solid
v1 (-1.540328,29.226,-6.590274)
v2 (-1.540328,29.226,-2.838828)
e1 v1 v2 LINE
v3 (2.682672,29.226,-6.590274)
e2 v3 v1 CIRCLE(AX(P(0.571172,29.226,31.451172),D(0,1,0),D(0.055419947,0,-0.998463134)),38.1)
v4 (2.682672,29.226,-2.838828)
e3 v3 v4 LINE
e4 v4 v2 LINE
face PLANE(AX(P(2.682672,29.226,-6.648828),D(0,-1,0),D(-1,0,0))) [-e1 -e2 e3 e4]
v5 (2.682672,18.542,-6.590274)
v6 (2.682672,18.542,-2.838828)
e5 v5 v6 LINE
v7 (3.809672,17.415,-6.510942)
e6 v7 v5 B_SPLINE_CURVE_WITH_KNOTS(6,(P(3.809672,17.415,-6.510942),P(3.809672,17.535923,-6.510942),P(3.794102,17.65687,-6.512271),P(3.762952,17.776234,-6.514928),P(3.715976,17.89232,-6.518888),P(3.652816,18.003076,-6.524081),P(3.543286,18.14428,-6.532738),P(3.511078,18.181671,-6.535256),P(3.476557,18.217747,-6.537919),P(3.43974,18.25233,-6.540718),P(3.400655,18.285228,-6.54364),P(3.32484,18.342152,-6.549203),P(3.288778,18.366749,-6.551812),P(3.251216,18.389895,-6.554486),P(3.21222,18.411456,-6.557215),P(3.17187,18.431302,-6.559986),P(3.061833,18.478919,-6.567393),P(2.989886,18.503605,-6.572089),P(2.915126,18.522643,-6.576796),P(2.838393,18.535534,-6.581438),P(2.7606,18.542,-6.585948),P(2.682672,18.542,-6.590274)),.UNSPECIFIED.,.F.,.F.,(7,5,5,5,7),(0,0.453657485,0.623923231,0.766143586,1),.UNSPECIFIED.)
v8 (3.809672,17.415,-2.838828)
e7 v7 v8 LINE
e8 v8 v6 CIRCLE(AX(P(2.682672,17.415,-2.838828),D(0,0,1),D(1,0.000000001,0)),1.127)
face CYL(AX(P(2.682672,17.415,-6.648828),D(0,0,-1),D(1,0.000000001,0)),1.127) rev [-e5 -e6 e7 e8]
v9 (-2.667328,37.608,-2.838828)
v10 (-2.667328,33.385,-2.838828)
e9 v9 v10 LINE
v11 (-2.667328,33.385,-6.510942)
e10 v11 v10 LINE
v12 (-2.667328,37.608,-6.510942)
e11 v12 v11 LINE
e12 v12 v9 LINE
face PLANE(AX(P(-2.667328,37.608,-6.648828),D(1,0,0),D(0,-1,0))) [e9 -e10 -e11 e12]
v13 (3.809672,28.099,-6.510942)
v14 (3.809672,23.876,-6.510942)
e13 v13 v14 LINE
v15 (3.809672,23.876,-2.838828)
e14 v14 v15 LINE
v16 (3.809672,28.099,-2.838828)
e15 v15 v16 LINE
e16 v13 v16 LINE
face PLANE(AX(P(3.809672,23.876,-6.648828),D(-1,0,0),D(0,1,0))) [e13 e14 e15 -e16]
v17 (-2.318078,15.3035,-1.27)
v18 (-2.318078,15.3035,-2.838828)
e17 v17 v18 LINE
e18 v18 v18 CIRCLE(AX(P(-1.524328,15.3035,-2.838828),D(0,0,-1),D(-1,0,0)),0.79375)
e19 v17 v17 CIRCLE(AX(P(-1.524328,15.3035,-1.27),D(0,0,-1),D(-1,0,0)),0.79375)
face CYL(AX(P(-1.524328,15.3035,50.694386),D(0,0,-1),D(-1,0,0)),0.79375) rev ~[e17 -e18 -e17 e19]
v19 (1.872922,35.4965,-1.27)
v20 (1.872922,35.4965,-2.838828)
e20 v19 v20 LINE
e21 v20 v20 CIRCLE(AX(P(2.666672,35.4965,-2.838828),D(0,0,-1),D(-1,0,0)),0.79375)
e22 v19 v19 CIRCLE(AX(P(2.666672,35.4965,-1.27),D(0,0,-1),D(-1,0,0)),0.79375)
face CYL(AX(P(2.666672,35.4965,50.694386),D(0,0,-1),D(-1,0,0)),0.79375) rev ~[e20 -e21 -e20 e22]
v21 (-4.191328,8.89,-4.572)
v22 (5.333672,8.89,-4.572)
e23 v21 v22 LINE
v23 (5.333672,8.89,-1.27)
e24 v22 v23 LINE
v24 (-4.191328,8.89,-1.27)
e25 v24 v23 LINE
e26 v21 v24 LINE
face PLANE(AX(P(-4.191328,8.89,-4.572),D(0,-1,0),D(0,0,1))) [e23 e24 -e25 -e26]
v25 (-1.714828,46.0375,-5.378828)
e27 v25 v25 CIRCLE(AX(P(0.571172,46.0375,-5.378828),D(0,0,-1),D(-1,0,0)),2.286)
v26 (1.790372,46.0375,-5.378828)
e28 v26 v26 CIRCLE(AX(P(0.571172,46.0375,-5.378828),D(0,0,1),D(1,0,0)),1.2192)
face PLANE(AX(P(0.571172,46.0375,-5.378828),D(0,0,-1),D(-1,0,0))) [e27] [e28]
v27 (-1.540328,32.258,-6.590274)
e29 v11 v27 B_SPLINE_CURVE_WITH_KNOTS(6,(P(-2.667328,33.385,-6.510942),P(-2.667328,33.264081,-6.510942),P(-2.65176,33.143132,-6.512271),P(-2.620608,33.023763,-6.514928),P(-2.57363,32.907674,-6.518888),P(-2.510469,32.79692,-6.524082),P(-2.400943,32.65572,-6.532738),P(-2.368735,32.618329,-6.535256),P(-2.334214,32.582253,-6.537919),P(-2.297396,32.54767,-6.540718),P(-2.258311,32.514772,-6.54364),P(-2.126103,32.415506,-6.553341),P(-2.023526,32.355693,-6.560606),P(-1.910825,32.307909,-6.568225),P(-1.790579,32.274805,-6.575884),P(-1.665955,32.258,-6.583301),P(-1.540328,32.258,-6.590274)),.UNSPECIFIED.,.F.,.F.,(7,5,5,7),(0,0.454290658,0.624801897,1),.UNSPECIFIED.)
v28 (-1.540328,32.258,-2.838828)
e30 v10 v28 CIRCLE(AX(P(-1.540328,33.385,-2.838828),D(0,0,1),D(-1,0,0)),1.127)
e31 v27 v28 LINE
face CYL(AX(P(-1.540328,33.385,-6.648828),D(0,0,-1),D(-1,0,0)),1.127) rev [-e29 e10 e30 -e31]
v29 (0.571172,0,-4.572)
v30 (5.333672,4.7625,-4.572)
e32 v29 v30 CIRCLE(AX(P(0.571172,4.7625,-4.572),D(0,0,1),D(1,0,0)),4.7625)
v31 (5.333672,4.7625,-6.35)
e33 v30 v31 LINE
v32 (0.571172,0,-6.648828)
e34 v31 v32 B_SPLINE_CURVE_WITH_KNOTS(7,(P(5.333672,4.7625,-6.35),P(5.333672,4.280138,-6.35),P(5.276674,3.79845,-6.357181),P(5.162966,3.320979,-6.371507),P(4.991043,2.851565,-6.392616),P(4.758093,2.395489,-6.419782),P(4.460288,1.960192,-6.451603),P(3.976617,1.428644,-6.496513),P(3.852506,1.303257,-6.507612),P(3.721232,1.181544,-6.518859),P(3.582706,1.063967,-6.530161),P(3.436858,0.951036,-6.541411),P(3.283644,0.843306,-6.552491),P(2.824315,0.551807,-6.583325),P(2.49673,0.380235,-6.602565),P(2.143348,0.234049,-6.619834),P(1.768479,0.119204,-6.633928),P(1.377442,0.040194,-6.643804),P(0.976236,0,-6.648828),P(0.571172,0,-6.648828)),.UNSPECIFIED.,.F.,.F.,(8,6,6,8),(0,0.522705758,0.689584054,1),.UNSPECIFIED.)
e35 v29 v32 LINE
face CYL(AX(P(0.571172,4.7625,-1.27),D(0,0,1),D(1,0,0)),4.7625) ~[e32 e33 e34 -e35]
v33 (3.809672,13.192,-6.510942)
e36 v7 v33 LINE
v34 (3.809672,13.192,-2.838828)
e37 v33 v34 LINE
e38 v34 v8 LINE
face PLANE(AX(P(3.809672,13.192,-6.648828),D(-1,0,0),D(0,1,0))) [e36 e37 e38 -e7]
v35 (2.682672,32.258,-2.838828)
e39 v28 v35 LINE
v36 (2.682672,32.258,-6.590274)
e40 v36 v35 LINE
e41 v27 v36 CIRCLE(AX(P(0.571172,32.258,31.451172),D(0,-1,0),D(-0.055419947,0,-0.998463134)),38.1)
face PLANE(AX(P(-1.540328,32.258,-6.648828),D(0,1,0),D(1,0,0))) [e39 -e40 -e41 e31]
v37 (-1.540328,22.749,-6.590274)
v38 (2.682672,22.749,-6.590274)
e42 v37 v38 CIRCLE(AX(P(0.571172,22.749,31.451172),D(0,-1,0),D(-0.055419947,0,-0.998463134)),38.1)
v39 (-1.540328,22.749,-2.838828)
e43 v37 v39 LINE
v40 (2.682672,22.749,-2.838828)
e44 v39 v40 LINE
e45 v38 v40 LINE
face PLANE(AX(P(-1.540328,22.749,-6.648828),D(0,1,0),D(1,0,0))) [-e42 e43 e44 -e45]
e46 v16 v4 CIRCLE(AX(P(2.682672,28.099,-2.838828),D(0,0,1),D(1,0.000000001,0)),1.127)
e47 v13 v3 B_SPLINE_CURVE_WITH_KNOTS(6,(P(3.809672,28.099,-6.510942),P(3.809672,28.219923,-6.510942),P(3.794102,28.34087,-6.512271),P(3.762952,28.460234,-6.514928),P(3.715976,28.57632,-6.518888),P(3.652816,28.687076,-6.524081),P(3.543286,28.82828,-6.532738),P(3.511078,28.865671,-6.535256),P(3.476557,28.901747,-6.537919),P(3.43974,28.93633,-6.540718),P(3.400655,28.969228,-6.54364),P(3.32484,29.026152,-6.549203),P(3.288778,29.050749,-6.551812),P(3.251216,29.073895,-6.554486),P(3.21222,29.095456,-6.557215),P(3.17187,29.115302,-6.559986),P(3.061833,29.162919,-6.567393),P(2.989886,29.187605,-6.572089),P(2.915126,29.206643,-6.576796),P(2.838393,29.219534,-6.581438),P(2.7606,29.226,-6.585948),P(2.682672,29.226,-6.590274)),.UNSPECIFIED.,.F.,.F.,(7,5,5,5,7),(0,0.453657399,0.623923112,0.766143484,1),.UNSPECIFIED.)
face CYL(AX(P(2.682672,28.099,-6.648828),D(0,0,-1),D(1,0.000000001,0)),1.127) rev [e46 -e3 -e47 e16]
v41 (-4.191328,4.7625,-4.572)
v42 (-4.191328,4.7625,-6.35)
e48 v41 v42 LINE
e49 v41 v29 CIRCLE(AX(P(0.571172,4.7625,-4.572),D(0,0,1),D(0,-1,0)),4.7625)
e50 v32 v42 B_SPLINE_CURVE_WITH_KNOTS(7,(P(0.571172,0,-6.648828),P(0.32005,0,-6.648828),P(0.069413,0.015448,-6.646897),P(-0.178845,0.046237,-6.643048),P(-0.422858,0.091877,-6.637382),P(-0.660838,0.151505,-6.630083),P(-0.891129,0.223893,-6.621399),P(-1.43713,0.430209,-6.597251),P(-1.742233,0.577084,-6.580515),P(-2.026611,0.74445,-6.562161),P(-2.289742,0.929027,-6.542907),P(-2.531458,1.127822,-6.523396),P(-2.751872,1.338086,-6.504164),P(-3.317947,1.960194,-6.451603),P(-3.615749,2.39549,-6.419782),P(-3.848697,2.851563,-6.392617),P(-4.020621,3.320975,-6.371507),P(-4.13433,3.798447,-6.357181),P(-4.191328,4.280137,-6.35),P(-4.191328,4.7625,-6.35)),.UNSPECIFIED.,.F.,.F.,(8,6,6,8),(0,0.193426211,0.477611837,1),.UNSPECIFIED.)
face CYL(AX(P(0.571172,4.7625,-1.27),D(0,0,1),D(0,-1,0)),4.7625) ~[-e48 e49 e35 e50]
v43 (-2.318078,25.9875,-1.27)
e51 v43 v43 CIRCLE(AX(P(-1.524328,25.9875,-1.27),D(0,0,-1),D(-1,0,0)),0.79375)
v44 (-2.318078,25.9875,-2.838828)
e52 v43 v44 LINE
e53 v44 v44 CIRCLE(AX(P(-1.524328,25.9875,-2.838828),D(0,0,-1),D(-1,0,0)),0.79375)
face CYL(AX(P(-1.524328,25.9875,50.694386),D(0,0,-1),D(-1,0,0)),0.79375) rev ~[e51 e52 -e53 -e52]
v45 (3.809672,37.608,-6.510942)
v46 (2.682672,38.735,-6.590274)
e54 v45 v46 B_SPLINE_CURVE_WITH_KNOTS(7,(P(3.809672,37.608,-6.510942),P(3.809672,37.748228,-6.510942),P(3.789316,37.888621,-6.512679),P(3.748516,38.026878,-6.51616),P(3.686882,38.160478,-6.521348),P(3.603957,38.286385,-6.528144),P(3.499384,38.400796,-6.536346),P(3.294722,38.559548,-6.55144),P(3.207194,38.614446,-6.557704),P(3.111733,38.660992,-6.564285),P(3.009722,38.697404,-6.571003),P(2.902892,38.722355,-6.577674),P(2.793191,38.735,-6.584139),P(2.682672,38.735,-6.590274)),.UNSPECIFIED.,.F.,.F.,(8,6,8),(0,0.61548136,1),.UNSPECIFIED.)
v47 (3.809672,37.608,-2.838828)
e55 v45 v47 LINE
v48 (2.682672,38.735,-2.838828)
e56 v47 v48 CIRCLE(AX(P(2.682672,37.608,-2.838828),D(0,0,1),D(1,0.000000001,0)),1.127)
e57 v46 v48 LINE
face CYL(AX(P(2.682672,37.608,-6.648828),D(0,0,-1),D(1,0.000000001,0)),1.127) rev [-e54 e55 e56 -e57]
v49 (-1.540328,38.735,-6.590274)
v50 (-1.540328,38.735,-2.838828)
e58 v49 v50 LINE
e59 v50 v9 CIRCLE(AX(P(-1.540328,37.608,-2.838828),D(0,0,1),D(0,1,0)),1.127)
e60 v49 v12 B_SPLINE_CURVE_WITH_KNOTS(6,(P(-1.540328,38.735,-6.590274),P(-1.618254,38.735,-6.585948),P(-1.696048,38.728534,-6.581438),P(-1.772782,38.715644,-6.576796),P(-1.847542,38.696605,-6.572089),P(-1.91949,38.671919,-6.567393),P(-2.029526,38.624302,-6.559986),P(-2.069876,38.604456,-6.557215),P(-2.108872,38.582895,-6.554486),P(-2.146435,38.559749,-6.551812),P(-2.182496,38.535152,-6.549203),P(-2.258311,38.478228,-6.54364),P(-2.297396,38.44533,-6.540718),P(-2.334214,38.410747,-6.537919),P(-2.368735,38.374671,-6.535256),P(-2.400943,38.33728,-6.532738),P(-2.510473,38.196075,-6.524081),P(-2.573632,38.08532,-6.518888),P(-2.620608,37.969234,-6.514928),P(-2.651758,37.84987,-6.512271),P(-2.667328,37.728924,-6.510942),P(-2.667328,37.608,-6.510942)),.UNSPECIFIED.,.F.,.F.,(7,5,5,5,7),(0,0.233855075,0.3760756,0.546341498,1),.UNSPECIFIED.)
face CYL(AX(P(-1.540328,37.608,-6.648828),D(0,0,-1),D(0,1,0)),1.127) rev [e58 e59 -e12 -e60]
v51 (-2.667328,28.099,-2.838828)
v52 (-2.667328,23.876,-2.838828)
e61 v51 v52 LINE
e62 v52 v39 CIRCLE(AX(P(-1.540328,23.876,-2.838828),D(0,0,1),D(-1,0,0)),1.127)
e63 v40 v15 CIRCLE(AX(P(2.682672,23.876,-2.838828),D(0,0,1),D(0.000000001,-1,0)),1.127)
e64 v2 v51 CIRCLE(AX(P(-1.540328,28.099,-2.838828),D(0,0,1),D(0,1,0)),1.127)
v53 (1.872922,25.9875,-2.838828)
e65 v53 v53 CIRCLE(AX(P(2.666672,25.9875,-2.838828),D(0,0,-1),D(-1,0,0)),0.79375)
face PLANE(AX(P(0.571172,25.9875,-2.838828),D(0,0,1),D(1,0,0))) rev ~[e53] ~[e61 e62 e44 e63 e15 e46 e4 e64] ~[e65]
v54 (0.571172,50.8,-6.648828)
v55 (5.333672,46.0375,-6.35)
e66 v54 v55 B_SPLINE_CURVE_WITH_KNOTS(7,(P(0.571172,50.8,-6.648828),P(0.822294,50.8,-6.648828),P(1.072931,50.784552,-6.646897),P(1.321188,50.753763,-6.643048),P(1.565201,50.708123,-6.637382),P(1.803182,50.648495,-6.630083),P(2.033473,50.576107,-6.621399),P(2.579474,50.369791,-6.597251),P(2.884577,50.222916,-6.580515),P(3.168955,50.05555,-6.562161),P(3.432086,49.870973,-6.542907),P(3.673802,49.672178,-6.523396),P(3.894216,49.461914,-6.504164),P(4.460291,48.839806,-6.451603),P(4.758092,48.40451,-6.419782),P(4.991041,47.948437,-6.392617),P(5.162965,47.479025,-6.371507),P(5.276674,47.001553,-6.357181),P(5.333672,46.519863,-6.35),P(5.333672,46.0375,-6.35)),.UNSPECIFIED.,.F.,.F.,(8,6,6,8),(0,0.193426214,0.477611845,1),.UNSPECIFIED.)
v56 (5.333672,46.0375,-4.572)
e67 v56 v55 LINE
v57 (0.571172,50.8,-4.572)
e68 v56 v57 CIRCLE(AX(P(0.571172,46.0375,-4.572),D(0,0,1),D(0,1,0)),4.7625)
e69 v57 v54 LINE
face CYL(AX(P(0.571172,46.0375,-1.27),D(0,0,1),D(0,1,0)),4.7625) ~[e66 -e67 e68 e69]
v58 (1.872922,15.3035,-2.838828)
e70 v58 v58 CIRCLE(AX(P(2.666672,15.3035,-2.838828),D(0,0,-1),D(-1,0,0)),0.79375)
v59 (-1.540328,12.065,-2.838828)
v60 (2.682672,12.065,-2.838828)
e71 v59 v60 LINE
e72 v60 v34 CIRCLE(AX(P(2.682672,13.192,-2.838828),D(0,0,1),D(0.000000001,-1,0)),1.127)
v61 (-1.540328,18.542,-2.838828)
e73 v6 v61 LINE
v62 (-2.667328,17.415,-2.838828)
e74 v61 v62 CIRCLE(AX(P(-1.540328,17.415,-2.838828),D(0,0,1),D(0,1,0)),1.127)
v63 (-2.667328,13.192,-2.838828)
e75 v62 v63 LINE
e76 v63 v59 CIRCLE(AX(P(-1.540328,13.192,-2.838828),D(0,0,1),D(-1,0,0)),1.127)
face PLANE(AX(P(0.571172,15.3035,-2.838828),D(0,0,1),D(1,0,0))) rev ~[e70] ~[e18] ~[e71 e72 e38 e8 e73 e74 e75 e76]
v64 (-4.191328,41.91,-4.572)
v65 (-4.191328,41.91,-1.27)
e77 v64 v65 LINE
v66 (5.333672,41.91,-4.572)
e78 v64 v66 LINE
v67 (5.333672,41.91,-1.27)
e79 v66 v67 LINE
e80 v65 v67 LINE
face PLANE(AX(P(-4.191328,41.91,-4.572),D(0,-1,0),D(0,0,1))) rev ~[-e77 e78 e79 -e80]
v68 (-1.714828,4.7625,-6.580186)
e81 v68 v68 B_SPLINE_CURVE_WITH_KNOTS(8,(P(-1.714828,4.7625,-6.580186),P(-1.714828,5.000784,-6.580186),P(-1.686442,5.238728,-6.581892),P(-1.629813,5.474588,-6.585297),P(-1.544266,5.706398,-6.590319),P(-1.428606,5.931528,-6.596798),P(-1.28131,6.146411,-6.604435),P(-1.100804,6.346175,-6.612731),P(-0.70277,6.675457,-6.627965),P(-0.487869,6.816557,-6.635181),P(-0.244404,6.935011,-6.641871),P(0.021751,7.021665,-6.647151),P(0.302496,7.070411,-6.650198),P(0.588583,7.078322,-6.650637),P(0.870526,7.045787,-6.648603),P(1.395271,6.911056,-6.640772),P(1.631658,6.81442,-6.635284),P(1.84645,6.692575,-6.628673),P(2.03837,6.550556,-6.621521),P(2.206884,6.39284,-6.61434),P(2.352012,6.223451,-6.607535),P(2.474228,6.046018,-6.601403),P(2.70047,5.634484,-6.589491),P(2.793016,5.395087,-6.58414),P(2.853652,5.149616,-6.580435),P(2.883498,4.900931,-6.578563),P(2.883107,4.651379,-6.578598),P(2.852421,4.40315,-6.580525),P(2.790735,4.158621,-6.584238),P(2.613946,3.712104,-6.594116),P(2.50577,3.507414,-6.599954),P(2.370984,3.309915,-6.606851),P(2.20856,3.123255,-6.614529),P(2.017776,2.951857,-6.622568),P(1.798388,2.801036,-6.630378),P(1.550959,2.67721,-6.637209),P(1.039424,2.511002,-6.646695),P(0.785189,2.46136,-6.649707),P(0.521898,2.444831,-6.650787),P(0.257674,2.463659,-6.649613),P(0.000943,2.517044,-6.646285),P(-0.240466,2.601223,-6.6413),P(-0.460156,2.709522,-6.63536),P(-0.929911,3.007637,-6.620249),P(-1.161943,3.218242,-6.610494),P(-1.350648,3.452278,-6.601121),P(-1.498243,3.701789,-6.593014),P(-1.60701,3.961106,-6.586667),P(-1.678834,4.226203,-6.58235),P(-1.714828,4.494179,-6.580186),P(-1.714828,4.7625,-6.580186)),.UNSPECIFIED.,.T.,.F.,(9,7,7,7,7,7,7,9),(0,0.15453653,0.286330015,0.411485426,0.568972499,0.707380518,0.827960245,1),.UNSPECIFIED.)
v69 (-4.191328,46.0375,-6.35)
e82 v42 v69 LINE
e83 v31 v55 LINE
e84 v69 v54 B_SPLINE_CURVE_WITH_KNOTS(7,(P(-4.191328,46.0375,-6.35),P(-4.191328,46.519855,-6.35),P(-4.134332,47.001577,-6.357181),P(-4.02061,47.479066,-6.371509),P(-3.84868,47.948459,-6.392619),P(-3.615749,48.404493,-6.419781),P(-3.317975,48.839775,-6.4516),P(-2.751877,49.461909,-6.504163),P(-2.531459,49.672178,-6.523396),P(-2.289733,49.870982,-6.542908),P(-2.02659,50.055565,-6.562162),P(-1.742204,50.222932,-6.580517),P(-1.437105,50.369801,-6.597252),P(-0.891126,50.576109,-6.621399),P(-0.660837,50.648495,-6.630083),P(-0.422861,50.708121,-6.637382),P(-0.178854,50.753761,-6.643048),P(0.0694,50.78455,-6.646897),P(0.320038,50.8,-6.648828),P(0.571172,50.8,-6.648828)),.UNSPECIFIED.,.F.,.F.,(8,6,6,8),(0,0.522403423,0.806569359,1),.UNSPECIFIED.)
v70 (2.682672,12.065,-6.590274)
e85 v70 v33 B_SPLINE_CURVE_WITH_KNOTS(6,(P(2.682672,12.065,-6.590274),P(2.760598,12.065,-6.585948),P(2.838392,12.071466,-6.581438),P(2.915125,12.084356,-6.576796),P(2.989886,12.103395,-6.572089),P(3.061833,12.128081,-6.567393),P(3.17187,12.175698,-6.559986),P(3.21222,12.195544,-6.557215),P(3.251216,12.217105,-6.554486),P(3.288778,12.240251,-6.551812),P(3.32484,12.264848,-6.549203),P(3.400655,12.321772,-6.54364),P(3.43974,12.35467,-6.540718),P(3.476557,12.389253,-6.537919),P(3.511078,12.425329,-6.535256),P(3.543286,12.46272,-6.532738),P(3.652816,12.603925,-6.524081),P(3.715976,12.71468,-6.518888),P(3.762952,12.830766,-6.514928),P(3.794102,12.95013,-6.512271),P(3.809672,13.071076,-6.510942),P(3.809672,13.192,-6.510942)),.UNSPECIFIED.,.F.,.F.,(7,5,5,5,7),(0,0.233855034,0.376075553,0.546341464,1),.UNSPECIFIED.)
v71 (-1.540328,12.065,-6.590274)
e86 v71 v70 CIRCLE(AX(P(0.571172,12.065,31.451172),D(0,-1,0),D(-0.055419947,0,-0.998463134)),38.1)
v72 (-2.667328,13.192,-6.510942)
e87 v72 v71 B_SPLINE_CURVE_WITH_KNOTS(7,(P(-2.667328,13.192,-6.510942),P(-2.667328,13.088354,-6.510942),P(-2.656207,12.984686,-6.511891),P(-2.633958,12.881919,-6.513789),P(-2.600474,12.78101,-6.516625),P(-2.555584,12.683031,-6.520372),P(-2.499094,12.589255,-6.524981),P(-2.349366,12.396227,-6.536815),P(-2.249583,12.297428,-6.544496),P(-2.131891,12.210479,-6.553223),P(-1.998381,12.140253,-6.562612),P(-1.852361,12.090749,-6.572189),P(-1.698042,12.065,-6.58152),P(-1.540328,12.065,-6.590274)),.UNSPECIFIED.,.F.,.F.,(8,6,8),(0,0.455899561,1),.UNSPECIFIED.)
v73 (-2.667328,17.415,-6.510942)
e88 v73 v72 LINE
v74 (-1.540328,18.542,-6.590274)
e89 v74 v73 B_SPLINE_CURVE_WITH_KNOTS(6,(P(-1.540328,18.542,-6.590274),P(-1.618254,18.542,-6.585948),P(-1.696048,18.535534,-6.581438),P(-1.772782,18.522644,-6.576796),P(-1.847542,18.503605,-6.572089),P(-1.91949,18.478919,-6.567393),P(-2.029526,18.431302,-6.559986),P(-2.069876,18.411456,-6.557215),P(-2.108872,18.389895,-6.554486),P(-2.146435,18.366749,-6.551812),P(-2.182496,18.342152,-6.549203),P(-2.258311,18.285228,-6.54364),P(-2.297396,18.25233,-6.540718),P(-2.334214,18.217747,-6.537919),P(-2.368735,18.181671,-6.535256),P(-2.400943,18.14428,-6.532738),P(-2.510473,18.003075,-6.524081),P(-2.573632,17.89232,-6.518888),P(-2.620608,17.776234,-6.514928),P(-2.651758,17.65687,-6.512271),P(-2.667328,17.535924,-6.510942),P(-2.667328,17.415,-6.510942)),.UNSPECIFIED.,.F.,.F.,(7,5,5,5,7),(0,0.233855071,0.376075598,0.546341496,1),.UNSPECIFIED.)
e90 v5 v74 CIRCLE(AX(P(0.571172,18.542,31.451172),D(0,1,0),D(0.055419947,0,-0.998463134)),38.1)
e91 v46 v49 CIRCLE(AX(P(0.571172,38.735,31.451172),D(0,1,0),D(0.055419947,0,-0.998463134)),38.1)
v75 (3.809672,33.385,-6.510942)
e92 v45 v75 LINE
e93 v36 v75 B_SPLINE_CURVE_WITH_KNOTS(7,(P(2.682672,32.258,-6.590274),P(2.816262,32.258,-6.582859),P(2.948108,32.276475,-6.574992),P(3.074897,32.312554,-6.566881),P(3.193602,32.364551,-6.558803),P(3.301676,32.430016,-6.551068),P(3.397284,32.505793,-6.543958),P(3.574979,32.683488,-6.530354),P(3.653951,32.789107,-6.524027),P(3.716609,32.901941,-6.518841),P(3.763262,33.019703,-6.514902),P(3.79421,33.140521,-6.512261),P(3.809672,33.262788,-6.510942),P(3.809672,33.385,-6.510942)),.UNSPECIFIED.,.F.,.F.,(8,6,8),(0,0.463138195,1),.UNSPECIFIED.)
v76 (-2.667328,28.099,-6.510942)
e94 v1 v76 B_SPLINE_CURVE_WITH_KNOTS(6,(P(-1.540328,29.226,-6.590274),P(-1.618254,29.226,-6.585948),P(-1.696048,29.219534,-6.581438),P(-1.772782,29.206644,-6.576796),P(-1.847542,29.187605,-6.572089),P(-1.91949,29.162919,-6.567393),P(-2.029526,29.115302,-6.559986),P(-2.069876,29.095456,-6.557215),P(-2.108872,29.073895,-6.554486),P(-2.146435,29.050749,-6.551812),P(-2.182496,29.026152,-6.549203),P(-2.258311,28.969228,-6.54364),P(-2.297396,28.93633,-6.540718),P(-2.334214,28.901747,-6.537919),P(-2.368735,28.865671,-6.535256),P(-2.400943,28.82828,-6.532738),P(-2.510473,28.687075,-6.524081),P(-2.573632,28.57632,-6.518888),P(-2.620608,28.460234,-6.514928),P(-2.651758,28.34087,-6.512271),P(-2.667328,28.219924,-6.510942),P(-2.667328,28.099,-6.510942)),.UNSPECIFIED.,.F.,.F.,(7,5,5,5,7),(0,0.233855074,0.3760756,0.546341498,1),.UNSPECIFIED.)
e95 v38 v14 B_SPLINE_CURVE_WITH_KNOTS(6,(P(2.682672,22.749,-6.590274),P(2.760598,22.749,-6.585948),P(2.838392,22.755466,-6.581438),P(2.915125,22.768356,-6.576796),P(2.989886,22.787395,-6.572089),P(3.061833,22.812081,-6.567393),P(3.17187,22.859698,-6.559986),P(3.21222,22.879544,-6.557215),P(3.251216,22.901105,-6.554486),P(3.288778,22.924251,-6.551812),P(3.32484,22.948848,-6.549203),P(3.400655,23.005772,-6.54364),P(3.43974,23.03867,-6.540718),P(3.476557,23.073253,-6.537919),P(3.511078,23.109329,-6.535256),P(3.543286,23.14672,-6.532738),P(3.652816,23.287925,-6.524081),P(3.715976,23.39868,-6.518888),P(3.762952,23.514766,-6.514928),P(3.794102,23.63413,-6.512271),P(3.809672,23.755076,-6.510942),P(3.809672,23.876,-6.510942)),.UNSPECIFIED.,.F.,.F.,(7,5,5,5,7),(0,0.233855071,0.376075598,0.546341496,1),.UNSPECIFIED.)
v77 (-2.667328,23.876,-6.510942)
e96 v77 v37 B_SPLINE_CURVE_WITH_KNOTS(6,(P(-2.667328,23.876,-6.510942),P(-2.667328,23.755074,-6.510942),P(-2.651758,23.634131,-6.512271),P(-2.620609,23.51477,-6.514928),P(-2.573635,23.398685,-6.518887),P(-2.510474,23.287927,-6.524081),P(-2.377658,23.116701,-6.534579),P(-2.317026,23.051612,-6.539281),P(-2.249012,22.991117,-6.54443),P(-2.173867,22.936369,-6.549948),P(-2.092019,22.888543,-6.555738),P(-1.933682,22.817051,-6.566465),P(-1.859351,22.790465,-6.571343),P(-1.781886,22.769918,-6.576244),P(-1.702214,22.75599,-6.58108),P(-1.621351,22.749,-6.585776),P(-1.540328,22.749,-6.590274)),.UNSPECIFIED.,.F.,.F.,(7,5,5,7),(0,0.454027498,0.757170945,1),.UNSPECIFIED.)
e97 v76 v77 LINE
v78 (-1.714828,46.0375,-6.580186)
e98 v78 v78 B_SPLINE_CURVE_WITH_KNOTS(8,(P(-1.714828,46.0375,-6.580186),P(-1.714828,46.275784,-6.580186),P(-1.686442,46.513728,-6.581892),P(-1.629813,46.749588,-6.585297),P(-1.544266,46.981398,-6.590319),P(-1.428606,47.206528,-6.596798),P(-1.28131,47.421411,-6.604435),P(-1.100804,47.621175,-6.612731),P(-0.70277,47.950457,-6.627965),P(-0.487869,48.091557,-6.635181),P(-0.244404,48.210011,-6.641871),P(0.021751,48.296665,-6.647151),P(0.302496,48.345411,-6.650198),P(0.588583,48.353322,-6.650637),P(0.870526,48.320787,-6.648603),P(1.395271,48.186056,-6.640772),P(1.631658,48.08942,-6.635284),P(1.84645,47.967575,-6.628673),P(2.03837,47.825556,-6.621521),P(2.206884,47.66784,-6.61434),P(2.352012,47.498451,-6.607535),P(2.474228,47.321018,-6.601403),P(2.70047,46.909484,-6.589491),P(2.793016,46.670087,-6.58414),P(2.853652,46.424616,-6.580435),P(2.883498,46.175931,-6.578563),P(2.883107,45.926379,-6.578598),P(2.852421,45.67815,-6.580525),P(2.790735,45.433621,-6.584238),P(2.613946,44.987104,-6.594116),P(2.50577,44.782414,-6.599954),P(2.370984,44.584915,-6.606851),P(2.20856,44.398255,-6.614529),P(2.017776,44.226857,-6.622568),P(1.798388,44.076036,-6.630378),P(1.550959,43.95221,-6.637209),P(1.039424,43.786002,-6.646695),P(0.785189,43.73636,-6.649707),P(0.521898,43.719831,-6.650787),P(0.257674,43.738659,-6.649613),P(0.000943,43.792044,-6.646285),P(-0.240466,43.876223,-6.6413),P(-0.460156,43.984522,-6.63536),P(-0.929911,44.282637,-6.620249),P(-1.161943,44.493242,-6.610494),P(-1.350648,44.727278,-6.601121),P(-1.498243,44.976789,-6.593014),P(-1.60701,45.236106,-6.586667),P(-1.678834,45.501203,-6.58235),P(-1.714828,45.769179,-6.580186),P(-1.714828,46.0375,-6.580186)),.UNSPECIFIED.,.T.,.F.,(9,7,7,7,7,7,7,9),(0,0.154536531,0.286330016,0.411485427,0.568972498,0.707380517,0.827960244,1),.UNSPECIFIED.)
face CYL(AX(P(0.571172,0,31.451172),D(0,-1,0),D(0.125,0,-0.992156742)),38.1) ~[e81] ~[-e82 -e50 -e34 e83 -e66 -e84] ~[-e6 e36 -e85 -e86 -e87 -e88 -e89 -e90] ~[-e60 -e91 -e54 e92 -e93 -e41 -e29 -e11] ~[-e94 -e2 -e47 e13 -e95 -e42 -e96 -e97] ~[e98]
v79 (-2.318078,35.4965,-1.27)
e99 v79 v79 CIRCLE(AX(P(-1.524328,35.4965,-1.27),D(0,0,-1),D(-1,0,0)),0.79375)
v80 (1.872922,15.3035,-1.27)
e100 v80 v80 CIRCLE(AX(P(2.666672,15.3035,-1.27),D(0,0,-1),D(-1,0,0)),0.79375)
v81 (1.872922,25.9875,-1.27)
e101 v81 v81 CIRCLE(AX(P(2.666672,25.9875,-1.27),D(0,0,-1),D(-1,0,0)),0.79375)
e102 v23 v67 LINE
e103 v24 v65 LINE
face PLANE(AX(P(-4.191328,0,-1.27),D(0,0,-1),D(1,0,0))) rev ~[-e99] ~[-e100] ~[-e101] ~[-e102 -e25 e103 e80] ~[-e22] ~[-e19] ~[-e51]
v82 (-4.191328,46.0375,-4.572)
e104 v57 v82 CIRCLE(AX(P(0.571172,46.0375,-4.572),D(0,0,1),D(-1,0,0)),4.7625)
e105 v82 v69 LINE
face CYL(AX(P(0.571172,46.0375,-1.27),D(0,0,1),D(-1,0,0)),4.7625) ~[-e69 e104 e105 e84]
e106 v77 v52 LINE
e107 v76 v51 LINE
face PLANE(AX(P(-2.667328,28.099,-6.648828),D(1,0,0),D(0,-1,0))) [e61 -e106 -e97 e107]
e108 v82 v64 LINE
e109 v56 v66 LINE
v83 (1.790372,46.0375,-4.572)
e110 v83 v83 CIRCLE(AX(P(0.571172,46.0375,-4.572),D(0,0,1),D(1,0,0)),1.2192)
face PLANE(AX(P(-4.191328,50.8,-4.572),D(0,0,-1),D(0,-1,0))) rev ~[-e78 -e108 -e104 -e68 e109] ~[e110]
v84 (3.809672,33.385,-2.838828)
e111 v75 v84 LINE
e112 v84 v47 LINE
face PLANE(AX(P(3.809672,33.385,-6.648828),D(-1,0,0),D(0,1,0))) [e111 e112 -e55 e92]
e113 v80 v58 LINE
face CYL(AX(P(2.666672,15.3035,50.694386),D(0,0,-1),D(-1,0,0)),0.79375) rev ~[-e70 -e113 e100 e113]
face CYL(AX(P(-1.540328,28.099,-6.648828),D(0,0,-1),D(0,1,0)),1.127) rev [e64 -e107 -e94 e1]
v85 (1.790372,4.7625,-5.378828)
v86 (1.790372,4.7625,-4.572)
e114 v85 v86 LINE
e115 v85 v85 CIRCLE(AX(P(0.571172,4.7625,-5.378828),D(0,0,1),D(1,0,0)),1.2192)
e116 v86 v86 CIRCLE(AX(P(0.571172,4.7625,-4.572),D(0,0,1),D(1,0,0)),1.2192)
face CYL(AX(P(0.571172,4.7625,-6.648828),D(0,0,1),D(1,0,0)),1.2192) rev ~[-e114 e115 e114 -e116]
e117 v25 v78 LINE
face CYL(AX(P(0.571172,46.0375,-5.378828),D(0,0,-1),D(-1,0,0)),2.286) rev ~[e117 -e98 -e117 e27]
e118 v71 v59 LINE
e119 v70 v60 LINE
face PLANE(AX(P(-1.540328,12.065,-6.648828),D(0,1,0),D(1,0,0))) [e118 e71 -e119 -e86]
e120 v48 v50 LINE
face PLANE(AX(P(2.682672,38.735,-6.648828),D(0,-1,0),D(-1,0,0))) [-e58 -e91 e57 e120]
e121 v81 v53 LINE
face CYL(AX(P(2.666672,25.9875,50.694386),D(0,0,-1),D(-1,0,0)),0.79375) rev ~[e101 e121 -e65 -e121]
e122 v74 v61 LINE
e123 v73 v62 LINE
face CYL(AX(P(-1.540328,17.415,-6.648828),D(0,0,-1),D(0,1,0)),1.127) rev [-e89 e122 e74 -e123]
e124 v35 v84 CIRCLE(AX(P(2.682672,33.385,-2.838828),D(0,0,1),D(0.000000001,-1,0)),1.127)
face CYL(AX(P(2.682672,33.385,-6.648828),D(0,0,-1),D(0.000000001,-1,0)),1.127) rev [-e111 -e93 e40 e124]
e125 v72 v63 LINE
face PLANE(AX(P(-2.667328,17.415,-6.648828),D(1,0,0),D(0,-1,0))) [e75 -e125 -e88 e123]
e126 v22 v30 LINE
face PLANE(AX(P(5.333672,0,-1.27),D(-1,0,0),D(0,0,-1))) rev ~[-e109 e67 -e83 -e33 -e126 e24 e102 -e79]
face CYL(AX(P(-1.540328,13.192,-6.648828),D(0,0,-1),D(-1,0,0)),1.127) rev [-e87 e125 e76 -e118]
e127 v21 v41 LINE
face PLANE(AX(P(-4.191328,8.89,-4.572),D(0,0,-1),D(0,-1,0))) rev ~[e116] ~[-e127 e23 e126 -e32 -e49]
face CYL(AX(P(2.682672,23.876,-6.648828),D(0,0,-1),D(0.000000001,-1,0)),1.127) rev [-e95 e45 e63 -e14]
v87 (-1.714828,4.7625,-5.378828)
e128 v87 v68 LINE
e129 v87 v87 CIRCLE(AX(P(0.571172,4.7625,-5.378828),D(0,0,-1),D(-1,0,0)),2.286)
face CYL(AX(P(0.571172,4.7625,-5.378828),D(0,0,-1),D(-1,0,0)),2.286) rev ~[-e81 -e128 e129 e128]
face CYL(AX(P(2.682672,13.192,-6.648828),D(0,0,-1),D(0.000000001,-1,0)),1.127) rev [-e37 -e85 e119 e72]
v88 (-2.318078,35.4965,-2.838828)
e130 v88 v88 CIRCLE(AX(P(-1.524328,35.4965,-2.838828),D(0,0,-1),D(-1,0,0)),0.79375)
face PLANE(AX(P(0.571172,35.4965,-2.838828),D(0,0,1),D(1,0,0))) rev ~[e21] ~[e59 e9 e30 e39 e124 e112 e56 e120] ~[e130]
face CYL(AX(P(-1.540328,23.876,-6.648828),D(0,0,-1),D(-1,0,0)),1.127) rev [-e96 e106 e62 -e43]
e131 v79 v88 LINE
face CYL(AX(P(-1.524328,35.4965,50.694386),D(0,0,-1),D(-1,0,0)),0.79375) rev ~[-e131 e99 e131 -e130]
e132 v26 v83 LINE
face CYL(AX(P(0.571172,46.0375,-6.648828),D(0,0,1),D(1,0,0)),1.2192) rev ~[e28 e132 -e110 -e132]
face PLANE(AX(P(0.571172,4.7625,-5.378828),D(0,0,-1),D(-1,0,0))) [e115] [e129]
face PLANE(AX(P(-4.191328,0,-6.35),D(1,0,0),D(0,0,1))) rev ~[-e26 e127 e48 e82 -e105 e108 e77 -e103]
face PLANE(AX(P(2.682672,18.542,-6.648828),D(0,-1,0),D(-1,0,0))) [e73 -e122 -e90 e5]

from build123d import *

# Parameters (mm, degrees)
MAIN_PROFILE_DEPTH                             = 50.8
END_ROUNDS_DEPTH                               = 25.4
SKETCH3_W                                      = 3.302
SKETCH3_H                                      = 4.7625
SKETCH3_H_2                                    = 4.1275
LOCATING_FLANGE_DEPTH                          = 53.111155755
BUTTON_POCKETS_DEPTH                           = 3.81
CBORE_FOR_2_SOCKET_HEAD_CAP_SCREW1_D           = 2.4384
CBORE_FOR_2_SOCKET_HEAD_CAP_SCREW1_CBORE_D     = 4.572
CBORE_FOR_2_SOCKET_HEAD_CAP_SCREW1_CBORE_DEPTH = 1.27
F_1_16_0_0625_DIAMETER_HOLE1_D                 = 1.5875


with BuildPart() as part:
    # Sketch1 → Main profile (new body)
    with BuildSketch(Plane(origin=(0, 0, 0), x_dir=(1, 0, 0), z_dir=(0, 1, 0))):
        with BuildLine():
            Line((-4.191328185, 1.27), (5.333671815, 1.27))
            Line((5.333671815, 1.27), (5.333671815, 6.35))
            ThreePointArc((5.333671815, 6.35), (0.571171815, 6.648828143), (-4.191328185, 6.35))
            Line((-4.191328185, 6.35), (-4.191328185, 1.27))
        make_face()
    extrude(amount=MAIN_PROFILE_DEPTH)

    # Sketch2 → End rounds (cut)
    with BuildSketch(Plane.XY.offset(-1.27)):
        with BuildLine():
            Line((-4.191328185, 50.8), (-4.191328185, 46.0375))
            ThreePointArc((-4.191328185, 46.0375), (-2.796424231, 49.405096045), (0.571171815, 50.8))
            Line((0.571171815, 50.8), (-4.191328185, 50.8))
        make_face()
        with BuildLine():
            Line((5.333671815, 50.8), (0.571171815, 50.8))
            ThreePointArc((0.571171815, 50.8), (3.93876786, 49.405096045), (5.333671815, 46.0375))
            Line((5.333671815, 46.0375), (5.333671815, 50.8))
        make_face()
        with BuildLine():
            ThreePointArc((5.333671815, 4.7625), (3.938767861, 1.394903955), (0.571171817, 0))
            Line((0.571171817, 0), (5.333671815, 0))
            Line((5.333671815, 0), (5.333671815, 4.7625))
        make_face()
        with BuildLine():
            ThreePointArc((0.571171817, 0), (-2.79642423, 1.394903954), (-4.191328185, 4.7625))
            Line((-4.191328185, 4.7625), (-4.191328185, 0))
            Line((-4.191328185, 0), (0.571171817, 0))
        make_face()
    extrude(amount=-END_ROUNDS_DEPTH, mode=Mode.SUBTRACT)

    # Sketch3 → Locating Flange (cut, through all)
    with BuildSketch(Plane.ZY.offset(4.191328185)):
        with Locations((-2.921, 2.38125)):
            Rectangle(SKETCH3_W, SKETCH3_H)
        with Locations((-2.921, 6.82625)):
            Rectangle(SKETCH3_W, SKETCH3_H_2)
        with Locations((-2.921, 43.97375)):
            Rectangle(SKETCH3_W, SKETCH3_H_2)
        with Locations((-2.921, 48.41875)):
            Rectangle(SKETCH3_W, SKETCH3_H)
    extrude(amount=-LOCATING_FLANGE_DEPTH, mode=Mode.SUBTRACT)

    # Sketch4 → Button Pockets (cut)
    with BuildSketch(Plane(origin=(0, 0, -6.648828143), x_dir=(-1, 0, 0), z_dir=(0, 0, -1))):
        with BuildLine():
            Line((-2.682671815, 38.735), (1.540328185, 38.735))
            ThreePointArc((1.540328185, 38.735), (2.337237528, 38.404909342), (2.667328185, 37.608))
            Line((2.667328185, 37.608), (2.667328185, 33.385))
            ThreePointArc((2.667328185, 33.385), (2.337237528, 32.588090658), (1.540328185, 32.258))
            Line((1.540328185, 32.258), (-2.682671815, 32.258))
            ThreePointArc((-2.682671815, 32.258), (-3.479581157, 32.588090658), (-3.809671815, 33.385))
            Line((-3.809671815, 33.385), (-3.809671815, 37.608))
            ThreePointArc((-3.809671815, 37.608), (-3.479581157, 38.404909342), (-2.682671815, 38.735))
        make_face()
        with BuildLine():
            Line((-2.682671815, 29.226), (1.540328185, 29.226))
            ThreePointArc((1.540328185, 29.226), (2.337237528, 28.895909342), (2.667328185, 28.099))
            Line((2.667328185, 28.099), (2.667328185, 23.876))
            ThreePointArc((2.667328185, 23.876), (2.337237528, 23.079090658), (1.540328185, 22.749))
            Line((1.540328185, 22.749), (-2.682671815, 22.749))
            ThreePointArc((-2.682671815, 22.749), (-3.479581157, 23.079090658), (-3.809671815, 23.876))
            Line((-3.809671815, 23.876), (-3.809671815, 28.099))
            ThreePointArc((-3.809671815, 28.099), (-3.479581157, 28.895909342), (-2.682671815, 29.226))
        make_face()
        with BuildLine():
            Line((-2.682671815, 18.542), (1.540328185, 18.542))
            ThreePointArc((1.540328185, 18.542), (2.337237528, 18.211909342), (2.667328185, 17.415))
            Line((2.667328185, 17.415), (2.667328185, 13.192))
            ThreePointArc((2.667328185, 13.192), (2.337237528, 12.395090658), (1.540328185, 12.065))
            Line((1.540328185, 12.065), (-2.682671815, 12.065))
            ThreePointArc((-2.682671815, 12.065), (-3.479581157, 12.395090658), (-3.809671815, 13.192))
            Line((-3.809671815, 13.192), (-3.809671815, 17.415))
            ThreePointArc((-3.809671815, 17.415), (-3.479581157, 18.211909342), (-2.682671815, 18.542))
        make_face()
    extrude(amount=-BUTTON_POCKETS_DEPTH, mode=Mode.SUBTRACT)

    # CBORE for #2 Socket Head Cap Screw1 (through all)
    with Locations(Plane(origin=(0, 0, -6.648828143), x_dir=(-1, 0, 0), z_dir=(0, 0, -1))):
        with Locations((-0.571171815, 46.0375), (-0.571171815, 4.7625)):
            CounterBoreHole(CBORE_FOR_2_SOCKET_HEAD_CAP_SCREW1_D / 2, CBORE_FOR_2_SOCKET_HEAD_CAP_SCREW1_CBORE_D / 2, CBORE_FOR_2_SOCKET_HEAD_CAP_SCREW1_CBORE_DEPTH)

    # 1/16 (0.0625) Diameter Hole1 (through all)
    with Locations(Plane.XY.offset(-1.27)):
        with Locations((-1.524328185, 35.4965), (2.666671815, 35.4965), (2.666671815, 25.9875), (-1.524328185, 25.9875), (-1.524328185, 15.3035), (2.666671815, 15.3035)):
            Hole(F_1_16_0_0625_DIAMETER_HOLE1_D / 2)


solid = part.part
